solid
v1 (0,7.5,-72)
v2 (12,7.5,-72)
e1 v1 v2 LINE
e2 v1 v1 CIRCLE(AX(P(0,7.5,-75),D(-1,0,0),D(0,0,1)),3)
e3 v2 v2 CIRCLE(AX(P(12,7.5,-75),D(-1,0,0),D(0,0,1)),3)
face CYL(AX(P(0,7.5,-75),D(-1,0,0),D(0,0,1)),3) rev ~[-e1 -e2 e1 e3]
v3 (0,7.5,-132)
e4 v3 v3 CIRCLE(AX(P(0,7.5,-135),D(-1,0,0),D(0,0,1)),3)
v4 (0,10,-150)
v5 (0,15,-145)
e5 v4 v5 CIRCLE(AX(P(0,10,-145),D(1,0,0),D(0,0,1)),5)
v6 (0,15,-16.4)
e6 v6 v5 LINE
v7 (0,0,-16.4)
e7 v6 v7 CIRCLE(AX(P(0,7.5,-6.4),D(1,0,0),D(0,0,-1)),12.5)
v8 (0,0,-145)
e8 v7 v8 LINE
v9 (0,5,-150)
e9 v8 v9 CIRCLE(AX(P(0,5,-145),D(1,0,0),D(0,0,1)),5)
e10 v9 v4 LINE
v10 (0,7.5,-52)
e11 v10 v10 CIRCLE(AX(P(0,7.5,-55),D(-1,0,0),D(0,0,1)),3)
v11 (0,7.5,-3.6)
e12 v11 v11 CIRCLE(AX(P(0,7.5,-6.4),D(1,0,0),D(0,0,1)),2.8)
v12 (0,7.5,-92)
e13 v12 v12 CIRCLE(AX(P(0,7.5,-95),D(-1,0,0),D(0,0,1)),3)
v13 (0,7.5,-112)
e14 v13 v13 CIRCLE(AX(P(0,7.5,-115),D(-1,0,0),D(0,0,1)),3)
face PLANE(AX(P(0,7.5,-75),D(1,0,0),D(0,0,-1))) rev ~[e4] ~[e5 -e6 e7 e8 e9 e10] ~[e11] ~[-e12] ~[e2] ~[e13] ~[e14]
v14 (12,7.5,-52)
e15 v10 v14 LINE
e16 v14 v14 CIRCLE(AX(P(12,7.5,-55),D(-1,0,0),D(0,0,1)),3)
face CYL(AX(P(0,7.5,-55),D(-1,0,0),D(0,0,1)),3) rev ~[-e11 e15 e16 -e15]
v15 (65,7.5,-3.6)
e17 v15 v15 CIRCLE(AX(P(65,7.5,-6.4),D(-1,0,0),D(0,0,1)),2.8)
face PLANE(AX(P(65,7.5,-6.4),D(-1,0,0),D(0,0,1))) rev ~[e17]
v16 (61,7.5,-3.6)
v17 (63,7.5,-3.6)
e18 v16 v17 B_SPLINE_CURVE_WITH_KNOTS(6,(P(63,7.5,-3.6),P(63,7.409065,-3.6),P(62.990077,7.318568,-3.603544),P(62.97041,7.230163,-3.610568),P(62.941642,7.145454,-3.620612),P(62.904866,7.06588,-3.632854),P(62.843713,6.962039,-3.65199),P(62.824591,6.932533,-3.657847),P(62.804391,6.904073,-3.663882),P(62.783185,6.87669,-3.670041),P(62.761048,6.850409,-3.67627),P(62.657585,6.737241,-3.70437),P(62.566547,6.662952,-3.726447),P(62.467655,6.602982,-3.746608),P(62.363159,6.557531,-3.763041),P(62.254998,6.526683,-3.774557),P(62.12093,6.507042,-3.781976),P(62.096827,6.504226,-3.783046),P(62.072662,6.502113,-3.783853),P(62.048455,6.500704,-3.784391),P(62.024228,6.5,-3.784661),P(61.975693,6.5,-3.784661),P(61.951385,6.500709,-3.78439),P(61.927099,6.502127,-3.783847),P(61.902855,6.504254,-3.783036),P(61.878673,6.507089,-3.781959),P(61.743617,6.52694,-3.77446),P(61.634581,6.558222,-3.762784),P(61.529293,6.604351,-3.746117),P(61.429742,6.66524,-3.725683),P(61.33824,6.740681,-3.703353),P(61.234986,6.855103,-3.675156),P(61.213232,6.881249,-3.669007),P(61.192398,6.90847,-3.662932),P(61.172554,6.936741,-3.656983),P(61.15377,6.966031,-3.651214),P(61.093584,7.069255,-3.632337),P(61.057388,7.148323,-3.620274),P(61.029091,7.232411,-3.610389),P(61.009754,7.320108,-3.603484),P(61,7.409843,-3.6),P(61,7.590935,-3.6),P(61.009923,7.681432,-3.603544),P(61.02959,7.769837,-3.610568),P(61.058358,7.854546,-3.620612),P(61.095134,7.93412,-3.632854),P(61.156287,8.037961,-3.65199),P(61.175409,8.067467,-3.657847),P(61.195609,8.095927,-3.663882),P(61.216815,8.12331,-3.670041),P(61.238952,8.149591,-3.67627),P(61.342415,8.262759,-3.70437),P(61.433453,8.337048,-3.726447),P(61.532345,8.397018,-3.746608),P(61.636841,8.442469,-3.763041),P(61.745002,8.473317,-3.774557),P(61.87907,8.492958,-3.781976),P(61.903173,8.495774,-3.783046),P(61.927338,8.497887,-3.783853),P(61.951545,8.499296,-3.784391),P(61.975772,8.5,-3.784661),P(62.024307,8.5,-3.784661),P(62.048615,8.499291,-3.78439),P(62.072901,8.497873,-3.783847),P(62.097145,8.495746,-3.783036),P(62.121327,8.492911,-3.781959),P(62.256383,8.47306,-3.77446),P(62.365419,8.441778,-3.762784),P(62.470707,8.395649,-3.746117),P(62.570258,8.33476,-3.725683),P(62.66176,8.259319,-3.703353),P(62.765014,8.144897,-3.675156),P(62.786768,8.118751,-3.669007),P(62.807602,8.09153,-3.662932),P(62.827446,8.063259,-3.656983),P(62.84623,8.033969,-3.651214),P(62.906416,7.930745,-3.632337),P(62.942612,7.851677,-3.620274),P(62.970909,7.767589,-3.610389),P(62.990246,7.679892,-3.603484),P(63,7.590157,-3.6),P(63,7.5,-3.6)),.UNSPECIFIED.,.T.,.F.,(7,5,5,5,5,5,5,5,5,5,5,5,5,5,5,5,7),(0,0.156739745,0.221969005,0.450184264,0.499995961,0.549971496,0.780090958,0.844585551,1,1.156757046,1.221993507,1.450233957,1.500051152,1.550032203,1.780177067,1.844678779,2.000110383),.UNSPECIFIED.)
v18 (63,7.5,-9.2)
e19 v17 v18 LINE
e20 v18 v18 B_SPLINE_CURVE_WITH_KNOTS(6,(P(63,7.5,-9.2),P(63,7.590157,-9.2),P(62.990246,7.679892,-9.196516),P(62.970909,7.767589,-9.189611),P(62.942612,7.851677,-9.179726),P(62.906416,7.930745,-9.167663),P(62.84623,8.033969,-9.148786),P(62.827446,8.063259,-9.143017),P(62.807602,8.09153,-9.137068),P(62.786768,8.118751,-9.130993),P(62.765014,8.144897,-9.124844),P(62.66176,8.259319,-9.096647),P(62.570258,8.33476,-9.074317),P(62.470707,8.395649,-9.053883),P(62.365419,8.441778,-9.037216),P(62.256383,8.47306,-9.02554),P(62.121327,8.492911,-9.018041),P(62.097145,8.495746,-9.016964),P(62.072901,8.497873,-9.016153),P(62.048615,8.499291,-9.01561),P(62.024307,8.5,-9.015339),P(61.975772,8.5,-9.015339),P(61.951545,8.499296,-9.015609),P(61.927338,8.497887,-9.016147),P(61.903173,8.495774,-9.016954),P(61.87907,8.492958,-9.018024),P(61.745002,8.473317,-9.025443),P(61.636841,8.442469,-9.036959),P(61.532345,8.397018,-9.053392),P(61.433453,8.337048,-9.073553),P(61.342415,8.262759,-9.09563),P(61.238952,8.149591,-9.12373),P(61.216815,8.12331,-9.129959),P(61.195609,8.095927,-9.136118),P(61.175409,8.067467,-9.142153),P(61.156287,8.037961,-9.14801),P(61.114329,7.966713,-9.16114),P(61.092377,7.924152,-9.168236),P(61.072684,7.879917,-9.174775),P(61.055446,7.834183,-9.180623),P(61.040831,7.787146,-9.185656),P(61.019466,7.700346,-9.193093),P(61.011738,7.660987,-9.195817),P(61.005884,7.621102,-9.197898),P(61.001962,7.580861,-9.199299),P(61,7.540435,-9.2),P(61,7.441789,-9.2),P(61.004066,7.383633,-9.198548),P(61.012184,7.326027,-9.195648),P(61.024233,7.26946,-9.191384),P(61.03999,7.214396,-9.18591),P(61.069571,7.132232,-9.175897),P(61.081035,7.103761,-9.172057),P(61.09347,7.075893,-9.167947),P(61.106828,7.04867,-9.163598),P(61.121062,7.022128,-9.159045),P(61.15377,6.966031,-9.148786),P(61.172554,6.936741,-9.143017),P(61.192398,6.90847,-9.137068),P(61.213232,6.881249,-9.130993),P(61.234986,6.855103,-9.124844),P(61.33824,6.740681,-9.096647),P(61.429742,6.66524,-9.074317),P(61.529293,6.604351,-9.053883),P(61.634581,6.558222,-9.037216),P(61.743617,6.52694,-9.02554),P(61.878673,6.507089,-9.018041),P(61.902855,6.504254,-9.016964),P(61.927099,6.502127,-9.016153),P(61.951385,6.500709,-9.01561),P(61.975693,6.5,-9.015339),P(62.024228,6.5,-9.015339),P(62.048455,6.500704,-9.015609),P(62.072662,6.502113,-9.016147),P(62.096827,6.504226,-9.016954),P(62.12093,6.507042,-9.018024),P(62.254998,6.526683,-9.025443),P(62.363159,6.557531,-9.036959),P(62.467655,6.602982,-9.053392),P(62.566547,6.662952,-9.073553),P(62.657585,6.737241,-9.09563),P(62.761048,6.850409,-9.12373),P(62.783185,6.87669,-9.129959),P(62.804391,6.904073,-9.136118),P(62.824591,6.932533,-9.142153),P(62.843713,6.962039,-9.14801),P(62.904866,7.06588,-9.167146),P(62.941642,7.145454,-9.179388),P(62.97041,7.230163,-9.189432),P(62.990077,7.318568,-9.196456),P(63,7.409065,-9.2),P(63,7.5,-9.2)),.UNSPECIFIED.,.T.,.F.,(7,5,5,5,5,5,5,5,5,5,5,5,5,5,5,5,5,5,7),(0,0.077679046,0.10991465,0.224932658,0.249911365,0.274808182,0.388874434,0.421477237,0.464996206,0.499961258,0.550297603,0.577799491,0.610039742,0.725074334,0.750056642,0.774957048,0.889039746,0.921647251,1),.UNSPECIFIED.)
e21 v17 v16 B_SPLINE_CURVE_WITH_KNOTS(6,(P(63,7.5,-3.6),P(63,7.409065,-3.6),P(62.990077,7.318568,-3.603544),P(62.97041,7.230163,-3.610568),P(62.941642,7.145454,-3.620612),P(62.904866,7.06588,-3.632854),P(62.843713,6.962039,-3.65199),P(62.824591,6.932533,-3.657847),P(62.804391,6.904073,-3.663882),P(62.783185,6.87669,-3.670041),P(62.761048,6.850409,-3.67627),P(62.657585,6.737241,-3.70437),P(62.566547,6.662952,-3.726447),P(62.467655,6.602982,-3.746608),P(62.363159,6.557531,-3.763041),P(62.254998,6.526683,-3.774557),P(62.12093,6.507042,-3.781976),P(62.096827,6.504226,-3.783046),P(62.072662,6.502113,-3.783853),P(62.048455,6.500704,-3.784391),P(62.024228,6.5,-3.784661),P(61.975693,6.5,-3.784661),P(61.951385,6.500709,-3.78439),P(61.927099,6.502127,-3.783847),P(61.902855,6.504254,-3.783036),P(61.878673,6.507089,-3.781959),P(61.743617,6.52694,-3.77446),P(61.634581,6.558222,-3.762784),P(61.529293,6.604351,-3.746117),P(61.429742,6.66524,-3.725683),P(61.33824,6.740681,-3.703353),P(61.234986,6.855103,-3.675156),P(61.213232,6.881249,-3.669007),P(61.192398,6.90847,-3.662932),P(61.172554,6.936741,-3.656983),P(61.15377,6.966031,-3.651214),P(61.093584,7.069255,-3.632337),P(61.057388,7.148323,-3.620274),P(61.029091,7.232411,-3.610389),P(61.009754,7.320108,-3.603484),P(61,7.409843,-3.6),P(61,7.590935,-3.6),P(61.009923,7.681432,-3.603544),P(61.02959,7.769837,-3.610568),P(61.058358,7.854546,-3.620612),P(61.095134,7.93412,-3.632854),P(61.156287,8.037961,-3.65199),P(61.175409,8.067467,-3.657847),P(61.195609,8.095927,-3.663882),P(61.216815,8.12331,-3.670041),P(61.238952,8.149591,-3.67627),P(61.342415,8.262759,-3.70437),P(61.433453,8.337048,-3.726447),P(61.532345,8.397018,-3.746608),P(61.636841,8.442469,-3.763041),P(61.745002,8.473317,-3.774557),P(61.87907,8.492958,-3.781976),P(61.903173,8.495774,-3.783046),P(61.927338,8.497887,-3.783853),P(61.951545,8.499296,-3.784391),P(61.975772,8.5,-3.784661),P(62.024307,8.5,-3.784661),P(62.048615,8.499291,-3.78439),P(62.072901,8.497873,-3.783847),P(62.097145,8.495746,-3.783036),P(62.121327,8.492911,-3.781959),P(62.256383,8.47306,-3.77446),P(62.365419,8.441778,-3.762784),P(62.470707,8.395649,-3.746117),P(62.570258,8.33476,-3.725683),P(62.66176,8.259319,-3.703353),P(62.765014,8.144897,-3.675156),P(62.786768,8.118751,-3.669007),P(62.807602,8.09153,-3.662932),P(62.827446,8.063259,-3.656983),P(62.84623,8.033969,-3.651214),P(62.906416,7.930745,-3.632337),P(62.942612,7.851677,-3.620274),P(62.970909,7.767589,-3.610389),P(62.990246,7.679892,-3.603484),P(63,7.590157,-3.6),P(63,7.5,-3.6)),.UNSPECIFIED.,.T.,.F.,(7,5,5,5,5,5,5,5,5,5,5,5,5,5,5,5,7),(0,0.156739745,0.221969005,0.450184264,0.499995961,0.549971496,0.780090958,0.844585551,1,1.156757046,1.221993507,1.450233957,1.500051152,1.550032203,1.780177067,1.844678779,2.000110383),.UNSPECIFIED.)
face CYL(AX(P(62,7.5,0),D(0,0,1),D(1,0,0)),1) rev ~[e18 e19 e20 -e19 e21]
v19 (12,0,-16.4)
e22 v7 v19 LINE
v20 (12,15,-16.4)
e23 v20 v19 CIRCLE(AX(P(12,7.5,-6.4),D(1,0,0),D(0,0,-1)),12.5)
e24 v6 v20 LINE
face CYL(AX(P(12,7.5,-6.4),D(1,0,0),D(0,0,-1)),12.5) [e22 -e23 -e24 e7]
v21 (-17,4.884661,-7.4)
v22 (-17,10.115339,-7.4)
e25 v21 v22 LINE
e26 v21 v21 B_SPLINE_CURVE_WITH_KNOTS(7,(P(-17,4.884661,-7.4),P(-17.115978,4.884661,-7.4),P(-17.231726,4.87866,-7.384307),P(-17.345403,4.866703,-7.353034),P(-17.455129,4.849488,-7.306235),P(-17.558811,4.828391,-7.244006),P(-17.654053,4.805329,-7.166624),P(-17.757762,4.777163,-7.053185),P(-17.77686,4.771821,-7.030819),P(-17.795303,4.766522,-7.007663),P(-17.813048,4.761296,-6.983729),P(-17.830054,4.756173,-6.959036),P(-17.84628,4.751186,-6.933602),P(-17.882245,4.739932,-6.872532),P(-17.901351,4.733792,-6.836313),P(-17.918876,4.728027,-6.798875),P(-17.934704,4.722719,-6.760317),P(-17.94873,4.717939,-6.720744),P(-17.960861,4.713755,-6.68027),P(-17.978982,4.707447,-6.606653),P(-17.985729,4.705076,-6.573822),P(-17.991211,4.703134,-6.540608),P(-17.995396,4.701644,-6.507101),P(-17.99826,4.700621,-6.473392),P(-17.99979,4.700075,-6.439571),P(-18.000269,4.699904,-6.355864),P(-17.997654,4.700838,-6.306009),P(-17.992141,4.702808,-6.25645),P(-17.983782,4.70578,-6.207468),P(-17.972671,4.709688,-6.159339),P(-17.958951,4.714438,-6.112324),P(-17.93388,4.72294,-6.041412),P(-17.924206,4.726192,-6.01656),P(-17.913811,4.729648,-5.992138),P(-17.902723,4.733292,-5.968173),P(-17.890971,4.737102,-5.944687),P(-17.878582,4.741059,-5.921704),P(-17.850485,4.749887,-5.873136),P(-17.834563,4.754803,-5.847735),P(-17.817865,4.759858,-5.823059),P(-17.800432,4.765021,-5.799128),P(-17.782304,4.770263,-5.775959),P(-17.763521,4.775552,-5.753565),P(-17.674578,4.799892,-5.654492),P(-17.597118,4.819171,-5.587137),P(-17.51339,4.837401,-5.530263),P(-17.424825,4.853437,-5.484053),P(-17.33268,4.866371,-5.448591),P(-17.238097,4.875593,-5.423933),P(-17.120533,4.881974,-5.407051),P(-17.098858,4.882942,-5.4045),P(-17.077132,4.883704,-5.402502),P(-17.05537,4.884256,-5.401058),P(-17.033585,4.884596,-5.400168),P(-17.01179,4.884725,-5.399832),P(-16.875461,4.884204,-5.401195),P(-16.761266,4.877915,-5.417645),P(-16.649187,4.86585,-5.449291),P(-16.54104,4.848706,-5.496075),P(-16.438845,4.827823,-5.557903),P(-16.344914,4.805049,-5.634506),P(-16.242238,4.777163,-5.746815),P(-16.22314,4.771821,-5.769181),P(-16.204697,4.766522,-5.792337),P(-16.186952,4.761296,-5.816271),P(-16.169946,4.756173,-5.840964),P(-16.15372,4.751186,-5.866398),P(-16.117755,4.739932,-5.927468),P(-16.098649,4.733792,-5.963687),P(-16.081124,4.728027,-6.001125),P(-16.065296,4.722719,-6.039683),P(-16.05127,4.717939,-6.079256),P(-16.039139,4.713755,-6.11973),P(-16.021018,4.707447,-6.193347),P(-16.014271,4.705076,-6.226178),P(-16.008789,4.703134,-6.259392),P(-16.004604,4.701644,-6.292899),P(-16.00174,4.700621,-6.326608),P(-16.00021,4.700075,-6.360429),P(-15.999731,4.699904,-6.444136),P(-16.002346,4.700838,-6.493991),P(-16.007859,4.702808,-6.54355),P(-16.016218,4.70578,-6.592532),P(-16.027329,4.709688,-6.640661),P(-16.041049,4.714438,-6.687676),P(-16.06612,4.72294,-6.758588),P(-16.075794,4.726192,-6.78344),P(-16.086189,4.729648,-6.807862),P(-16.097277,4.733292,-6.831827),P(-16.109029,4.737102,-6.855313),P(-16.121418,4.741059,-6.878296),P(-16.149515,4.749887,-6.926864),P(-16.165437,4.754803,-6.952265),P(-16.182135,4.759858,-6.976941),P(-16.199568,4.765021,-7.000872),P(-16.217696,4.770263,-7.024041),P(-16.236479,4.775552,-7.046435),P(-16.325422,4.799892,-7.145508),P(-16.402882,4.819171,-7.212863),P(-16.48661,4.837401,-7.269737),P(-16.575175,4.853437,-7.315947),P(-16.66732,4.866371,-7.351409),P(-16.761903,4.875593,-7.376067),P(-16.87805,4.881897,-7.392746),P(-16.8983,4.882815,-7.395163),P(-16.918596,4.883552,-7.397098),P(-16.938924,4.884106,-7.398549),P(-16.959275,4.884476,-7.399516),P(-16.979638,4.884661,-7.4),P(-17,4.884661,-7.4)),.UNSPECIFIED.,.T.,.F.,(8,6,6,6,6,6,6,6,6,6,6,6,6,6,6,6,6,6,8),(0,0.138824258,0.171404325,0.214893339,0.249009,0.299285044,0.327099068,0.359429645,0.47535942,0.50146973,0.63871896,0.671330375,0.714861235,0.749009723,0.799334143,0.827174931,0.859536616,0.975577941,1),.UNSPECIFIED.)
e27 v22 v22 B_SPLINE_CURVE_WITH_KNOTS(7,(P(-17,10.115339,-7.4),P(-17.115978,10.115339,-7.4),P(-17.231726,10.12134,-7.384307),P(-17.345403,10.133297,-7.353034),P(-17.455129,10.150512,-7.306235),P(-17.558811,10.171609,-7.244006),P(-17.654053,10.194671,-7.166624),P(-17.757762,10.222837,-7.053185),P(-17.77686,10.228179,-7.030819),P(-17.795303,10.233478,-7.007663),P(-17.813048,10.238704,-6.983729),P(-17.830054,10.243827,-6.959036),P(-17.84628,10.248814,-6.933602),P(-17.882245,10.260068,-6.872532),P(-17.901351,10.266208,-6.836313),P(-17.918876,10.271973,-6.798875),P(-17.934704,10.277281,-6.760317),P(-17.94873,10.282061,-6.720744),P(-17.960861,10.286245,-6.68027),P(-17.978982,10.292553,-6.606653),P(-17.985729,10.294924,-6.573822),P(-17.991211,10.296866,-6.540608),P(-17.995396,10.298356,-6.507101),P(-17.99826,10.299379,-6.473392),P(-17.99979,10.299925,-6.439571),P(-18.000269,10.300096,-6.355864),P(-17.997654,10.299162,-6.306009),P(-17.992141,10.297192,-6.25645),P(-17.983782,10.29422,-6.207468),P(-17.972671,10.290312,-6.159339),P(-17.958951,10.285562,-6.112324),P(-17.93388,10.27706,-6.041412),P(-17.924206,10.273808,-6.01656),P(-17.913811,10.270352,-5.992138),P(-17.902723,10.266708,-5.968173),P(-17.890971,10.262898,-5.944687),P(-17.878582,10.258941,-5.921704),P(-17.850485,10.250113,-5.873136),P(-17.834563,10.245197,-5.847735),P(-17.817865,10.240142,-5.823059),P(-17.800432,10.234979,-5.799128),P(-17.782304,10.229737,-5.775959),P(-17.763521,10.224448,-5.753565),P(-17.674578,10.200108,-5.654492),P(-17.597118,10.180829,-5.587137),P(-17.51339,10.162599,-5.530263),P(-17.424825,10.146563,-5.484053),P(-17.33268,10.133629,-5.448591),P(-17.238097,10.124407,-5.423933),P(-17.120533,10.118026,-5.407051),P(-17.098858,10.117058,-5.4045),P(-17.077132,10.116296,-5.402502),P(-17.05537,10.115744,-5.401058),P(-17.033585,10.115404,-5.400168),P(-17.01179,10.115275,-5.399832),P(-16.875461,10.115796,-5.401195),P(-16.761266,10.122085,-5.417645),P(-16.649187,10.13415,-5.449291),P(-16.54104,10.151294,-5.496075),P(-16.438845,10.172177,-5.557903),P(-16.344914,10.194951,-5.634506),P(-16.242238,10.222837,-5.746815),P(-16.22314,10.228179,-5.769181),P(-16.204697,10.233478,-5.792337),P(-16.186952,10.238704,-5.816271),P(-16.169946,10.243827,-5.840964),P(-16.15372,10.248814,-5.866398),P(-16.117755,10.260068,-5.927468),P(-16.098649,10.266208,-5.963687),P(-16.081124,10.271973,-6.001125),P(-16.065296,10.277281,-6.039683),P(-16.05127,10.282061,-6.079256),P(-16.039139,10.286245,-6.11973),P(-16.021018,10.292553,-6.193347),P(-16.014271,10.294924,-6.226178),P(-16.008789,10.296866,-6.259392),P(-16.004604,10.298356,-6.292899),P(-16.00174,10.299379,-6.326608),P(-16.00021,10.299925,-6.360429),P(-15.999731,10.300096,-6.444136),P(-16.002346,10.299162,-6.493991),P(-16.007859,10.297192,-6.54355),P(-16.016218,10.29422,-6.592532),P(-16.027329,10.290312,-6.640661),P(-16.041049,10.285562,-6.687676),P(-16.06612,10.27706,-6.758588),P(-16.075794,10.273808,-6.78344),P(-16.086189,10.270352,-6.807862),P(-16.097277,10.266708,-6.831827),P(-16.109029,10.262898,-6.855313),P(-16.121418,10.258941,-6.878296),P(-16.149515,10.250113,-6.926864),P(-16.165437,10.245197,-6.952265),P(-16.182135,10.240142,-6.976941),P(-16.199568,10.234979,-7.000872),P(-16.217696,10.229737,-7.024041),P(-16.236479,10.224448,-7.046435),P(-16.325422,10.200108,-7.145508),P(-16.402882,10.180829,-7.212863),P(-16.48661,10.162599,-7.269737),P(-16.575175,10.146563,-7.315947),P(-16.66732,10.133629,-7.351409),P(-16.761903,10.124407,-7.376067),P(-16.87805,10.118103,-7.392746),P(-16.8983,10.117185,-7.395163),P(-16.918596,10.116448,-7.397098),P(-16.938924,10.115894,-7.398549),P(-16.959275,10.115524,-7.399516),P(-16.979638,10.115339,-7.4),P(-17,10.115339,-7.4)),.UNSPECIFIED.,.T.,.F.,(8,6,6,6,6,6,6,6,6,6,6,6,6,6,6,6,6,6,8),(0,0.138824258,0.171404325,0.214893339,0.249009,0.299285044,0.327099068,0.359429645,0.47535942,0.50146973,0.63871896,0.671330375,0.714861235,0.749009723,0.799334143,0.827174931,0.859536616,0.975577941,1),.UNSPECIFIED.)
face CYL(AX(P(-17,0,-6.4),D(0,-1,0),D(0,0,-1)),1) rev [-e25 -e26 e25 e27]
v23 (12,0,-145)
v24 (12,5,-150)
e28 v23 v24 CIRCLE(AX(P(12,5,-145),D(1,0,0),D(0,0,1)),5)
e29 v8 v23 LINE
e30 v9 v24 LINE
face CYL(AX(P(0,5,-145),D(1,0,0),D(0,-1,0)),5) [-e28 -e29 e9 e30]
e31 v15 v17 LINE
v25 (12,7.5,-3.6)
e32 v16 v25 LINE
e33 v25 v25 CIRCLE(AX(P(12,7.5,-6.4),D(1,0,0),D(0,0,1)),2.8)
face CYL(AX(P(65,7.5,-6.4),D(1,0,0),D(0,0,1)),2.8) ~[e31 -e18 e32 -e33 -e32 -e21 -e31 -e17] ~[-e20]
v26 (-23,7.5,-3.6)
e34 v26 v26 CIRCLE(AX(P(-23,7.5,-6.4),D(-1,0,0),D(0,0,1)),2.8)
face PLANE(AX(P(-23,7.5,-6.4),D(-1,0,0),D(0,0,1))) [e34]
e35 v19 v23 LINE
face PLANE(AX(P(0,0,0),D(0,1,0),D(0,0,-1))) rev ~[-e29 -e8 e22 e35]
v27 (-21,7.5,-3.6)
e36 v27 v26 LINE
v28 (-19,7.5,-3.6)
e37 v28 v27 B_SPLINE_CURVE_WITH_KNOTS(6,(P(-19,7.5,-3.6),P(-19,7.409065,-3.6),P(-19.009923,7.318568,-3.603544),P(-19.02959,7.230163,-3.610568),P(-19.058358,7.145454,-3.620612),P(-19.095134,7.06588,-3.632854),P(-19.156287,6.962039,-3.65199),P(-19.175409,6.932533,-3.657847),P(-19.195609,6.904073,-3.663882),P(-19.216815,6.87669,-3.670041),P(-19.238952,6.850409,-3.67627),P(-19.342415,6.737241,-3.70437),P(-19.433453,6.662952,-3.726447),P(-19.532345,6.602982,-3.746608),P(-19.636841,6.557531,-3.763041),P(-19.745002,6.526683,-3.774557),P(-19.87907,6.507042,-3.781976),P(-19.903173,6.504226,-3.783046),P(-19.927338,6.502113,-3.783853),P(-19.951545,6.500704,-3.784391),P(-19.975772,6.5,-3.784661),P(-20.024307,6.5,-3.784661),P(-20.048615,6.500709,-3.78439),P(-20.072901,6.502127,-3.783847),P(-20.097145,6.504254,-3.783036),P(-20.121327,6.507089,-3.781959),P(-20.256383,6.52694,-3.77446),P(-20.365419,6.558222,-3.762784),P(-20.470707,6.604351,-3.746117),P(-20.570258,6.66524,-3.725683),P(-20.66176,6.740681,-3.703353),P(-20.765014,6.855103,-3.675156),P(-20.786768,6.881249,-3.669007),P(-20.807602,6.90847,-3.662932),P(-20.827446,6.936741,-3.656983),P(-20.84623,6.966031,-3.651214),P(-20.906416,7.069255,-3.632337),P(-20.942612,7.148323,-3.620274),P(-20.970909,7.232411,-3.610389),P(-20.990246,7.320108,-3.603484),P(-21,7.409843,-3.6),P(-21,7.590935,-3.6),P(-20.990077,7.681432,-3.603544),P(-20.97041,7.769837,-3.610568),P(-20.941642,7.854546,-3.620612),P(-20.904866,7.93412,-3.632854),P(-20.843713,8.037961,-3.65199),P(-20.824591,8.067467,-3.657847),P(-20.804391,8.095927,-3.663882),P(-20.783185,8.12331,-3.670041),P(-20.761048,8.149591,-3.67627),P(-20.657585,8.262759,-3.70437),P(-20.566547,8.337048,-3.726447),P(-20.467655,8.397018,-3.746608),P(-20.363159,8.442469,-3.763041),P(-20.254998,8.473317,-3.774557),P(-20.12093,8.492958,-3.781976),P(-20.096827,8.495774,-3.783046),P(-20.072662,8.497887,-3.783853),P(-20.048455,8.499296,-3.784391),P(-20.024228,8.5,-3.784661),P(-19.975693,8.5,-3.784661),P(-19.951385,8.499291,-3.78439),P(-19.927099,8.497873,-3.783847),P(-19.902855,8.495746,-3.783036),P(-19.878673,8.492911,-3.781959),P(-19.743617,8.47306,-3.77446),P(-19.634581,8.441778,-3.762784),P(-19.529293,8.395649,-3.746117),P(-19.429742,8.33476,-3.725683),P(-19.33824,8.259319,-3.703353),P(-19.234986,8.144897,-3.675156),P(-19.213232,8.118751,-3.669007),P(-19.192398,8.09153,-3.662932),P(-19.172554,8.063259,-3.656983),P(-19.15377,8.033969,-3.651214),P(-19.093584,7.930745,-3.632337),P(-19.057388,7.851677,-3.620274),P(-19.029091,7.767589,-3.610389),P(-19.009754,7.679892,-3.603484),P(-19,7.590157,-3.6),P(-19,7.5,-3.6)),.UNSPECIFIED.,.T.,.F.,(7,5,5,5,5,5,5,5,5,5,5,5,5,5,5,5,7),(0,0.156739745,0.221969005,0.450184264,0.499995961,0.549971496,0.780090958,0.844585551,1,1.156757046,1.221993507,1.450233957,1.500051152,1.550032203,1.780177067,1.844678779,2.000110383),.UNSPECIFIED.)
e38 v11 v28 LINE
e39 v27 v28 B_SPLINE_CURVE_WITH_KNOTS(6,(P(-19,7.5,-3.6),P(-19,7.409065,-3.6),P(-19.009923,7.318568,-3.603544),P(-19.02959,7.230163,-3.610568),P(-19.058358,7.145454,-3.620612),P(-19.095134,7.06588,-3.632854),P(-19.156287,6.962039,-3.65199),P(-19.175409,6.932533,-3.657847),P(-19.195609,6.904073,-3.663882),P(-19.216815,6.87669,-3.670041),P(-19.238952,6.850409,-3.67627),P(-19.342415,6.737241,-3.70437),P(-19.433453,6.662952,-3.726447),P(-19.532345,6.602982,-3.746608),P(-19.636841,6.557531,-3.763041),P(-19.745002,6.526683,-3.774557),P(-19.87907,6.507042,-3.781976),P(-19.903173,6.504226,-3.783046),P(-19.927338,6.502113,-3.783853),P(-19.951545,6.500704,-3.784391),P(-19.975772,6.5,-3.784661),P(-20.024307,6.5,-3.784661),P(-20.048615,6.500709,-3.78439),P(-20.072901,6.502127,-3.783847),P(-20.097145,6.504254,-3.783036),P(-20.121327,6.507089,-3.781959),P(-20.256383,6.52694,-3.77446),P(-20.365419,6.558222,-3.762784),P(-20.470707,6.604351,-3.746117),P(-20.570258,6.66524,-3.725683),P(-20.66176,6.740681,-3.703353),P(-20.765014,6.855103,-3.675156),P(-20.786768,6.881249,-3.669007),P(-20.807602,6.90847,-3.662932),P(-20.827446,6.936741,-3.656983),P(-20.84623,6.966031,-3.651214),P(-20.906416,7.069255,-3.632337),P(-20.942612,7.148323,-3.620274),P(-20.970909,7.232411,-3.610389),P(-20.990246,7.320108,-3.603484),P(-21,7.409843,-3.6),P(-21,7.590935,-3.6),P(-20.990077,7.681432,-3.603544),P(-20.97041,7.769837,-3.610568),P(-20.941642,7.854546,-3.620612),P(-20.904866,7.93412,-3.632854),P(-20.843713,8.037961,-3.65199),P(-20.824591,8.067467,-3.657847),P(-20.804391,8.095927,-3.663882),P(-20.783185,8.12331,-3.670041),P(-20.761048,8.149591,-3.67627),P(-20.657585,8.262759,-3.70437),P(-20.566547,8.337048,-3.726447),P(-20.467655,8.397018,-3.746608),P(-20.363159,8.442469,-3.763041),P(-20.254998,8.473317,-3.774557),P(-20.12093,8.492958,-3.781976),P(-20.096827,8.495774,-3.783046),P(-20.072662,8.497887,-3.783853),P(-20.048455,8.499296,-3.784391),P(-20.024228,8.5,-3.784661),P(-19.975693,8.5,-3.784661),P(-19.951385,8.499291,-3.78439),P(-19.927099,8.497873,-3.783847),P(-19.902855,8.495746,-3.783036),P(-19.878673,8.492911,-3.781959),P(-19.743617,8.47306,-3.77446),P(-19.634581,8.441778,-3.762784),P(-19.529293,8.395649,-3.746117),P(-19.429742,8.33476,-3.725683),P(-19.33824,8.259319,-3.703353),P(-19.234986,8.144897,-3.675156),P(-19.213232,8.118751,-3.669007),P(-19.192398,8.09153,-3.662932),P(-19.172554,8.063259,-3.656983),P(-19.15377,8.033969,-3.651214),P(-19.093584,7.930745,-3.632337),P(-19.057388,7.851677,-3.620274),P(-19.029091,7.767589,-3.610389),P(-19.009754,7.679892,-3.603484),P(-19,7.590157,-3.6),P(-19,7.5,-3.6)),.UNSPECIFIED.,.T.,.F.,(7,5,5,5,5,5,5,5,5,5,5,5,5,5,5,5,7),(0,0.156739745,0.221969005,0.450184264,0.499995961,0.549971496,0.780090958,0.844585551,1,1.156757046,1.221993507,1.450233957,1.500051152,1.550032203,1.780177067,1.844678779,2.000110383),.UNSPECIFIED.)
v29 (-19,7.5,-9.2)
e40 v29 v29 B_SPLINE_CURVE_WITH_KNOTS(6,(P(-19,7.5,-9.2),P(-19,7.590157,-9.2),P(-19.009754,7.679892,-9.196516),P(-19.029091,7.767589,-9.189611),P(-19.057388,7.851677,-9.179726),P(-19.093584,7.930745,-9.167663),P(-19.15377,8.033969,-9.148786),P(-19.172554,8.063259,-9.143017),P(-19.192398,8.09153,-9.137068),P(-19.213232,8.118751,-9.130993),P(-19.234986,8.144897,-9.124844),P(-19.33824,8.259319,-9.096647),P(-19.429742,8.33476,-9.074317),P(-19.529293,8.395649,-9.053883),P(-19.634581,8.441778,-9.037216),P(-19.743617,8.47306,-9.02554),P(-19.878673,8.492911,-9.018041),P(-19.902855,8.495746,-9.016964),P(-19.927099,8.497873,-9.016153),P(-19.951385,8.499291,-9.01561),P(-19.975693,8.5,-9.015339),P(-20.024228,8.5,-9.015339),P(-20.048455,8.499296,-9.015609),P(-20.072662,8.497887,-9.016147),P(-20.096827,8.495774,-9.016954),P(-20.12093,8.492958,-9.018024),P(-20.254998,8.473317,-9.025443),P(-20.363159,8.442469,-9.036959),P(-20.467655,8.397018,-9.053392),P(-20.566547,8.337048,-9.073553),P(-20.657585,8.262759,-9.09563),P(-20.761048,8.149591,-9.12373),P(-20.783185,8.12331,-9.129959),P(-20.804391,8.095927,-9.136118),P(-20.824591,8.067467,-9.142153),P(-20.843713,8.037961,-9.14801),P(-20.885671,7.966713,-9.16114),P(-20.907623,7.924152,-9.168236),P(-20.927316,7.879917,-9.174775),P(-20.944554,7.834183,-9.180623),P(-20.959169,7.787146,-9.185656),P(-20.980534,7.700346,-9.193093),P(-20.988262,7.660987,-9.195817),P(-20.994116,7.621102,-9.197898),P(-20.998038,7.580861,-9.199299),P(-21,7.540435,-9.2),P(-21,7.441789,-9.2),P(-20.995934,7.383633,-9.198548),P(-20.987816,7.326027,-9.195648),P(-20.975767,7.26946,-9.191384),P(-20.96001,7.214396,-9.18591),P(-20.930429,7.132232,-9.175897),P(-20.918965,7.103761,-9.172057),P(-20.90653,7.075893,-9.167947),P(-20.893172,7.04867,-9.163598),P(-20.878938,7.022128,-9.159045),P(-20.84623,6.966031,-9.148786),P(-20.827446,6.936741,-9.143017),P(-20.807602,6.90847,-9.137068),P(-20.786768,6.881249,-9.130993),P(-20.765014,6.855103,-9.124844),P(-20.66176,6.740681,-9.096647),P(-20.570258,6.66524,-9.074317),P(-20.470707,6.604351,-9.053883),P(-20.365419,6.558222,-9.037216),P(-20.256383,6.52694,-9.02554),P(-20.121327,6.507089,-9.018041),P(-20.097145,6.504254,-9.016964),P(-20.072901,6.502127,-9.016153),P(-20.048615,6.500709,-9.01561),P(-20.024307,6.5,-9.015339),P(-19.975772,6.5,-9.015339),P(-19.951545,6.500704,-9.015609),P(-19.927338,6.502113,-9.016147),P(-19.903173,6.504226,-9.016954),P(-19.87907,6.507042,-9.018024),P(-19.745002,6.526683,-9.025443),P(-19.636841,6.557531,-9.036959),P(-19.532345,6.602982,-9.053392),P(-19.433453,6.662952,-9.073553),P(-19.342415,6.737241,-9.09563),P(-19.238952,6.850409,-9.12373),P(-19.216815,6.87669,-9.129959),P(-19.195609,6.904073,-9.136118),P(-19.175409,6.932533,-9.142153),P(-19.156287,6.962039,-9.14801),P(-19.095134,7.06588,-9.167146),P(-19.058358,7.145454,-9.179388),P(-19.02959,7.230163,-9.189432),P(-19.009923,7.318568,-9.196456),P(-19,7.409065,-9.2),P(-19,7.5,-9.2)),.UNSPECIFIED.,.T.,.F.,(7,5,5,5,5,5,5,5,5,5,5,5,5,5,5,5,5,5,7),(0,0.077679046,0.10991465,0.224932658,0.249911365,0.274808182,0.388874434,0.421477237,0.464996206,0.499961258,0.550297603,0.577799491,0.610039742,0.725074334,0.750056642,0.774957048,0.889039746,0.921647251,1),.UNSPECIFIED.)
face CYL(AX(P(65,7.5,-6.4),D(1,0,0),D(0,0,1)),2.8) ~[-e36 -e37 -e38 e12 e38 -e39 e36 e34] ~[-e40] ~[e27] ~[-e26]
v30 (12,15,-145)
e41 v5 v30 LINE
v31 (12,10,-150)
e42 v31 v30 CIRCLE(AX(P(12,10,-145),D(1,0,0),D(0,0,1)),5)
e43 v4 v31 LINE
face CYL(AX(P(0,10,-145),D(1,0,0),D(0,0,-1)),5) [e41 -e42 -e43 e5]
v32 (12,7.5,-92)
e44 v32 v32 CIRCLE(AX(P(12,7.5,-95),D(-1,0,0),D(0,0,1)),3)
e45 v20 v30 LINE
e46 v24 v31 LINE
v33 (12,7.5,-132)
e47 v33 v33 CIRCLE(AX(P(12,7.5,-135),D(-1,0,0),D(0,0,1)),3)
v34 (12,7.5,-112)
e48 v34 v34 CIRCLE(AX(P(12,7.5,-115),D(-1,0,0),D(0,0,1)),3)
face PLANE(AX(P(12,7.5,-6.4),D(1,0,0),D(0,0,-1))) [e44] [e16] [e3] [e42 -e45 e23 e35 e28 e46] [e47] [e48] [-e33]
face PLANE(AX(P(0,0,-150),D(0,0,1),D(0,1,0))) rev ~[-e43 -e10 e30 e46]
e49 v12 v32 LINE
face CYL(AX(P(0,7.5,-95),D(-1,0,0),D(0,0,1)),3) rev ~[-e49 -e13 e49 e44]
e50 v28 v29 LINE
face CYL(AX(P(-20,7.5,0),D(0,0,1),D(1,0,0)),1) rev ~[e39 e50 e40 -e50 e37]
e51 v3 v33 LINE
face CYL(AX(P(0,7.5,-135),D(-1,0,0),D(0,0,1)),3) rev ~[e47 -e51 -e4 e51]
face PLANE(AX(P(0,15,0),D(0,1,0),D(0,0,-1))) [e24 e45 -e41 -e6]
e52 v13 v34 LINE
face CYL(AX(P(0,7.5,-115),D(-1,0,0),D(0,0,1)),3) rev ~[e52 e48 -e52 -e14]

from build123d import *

# Parameters (mm, degrees)
SKETCH_1_W           = 150
SKETCH_1_H           = 15
EXTRUDE_1_DEPTH      = 12
FILLET_1_R           = 5
SKETCH_6_R           = 12.5
EXTRUDE_2_DEPTH      = 12
EXTRUDE_5_DEPTH      = 23
EXTRUDE_5_DEPTH_BACK = 65
SKETCH_15_R          = 2.8
CUT_EXTRUDE_9_REACH  = 166.697
SKETCH_16_R          = 1
CUT_EXTRUDE_10_REACH = 166.697
SKETCH_17_R          = 3
SKETCH_18_R          = 1
CUT_EXTRUDE_11_DEPTH = 15


with BuildPart() as part:
    # 草图1 → 凸台-拉伸1 (new body)
    with BuildSketch(Plane(origin=(0, 0, 0), x_dir=(0, 0, -1), z_dir=(1, 0, 0))):
        with Locations((75, 7.5)):
            Rectangle(SKETCH_1_W, SKETCH_1_H)
    extrude(amount=EXTRUDE_1_DEPTH)

    # 圆角1
    fillet_1_edges = [part.edges().sort_by_distance(p)[0] for p in [
        (6, 15, 0),
        (6, 15, -150),
        (6, 0, -150),
        (6, 0, 0),
    ]]
    fillet(fillet_1_edges, radius=FILLET_1_R)

    # 草图6 → 凸台-拉伸2 (add)
    with BuildSketch(Plane(origin=(12, 0, 0), x_dir=(0, 0, -1), z_dir=(1, 0, 0))):
        with Locations((6.4, 7.5)):
            Circle(SKETCH_6_R)
    extrude(amount=-EXTRUDE_2_DEPTH)

    # 草图15 → 凸台-拉伸5 (add, two sides: drawn at the far end of the back side and taken through both)
    with BuildSketch(Plane.ZY.offset(-EXTRUDE_5_DEPTH_BACK)):
        with Locations((-6.4, 7.5)):
            Circle(SKETCH_15_R)
    extrude(amount=EXTRUDE_5_DEPTH + EXTRUDE_5_DEPTH_BACK)

    # 草图16 → 切除-拉伸9 (cut, up to next)
    with BuildSketch(Plane.XY, mode=Mode.PRIVATE) as cut_extrude_9_sk1:
        with Locations((-20, 7.5)):
            Circle(SKETCH_16_R)
    cut_extrude_9_tool1 = extrude(cut_extrude_9_sk1.sketch, amount=-CUT_EXTRUDE_9_REACH, mode=Mode.PRIVATE) & part.part
    # 草图16 → 切除-拉伸9 (cut, up to next)
    with BuildSketch(Plane.XY, mode=Mode.PRIVATE) as cut_extrude_9_sk2:
        with Locations((62, 7.5)):
            Circle(SKETCH_16_R)
    cut_extrude_9_tool2 = extrude(cut_extrude_9_sk2.sketch, amount=-CUT_EXTRUDE_9_REACH, mode=Mode.PRIVATE) & part.part
    add(cut_extrude_9_tool1.solids().sort_by_distance((-20, 7.5, 0))[0], mode=Mode.SUBTRACT)
    add(cut_extrude_9_tool2.solids().sort_by_distance((62, 7.5, 0))[0], mode=Mode.SUBTRACT)

    # 草图17 → 切除-拉伸10 (cut, up to next)
    with BuildSketch(Plane.ZY, mode=Mode.PRIVATE) as cut_extrude_10_sk1:
        with Locations((-135, 7.5)):
            Circle(SKETCH_17_R)
    cut_extrude_10_tool1 = extrude(cut_extrude_10_sk1.sketch, amount=-CUT_EXTRUDE_10_REACH, mode=Mode.PRIVATE) & part.part
    # 草图17 → 切除-拉伸10 (cut, up to next)
    with BuildSketch(Plane.ZY, mode=Mode.PRIVATE) as cut_extrude_10_sk2:
        with Locations((-115, 7.5)):
            Circle(SKETCH_17_R)
    cut_extrude_10_tool2 = extrude(cut_extrude_10_sk2.sketch, amount=-CUT_EXTRUDE_10_REACH, mode=Mode.PRIVATE) & part.part
    # 草图17 → 切除-拉伸10 (cut, up to next)
    with BuildSketch(Plane.ZY, mode=Mode.PRIVATE) as cut_extrude_10_sk3:
        with Locations((-95, 7.5)):
            Circle(SKETCH_17_R)
    cut_extrude_10_tool3 = extrude(cut_extrude_10_sk3.sketch, amount=-CUT_EXTRUDE_10_REACH, mode=Mode.PRIVATE) & part.part
    # 草图17 → 切除-拉伸10 (cut, up to next)
    with BuildSketch(Plane.ZY, mode=Mode.PRIVATE) as cut_extrude_10_sk4:
        with Locations((-75, 7.5)):
            Circle(SKETCH_17_R)
    cut_extrude_10_tool4 = extrude(cut_extrude_10_sk4.sketch, amount=-CUT_EXTRUDE_10_REACH, mode=Mode.PRIVATE) & part.part
    # 草图17 → 切除-拉伸10 (cut, up to next)
    with BuildSketch(Plane.ZY, mode=Mode.PRIVATE) as cut_extrude_10_sk5:
        with Locations((-55, 7.5)):
            Circle(SKETCH_17_R)
    cut_extrude_10_tool5 = extrude(cut_extrude_10_sk5.sketch, amount=-CUT_EXTRUDE_10_REACH, mode=Mode.PRIVATE) & part.part
    add(cut_extrude_10_tool1.solids().sort_by_distance((0, 7.5, -135))[0], mode=Mode.SUBTRACT)
    add(cut_extrude_10_tool2.solids().sort_by_distance((0, 7.5, -115))[0], mode=Mode.SUBTRACT)
    add(cut_extrude_10_tool3.solids().sort_by_distance((0, 7.5, -95))[0], mode=Mode.SUBTRACT)
    add(cut_extrude_10_tool4.solids().sort_by_distance((0, 7.5, -75))[0], mode=Mode.SUBTRACT)
    add(cut_extrude_10_tool5.solids().sort_by_distance((0, 7.5, -55))[0], mode=Mode.SUBTRACT)

    # 草图18 → 切除-拉伸11 (cut)
    with BuildSketch(Plane(origin=(0, 0, 0), x_dir=(1, 0, 0), z_dir=(0, 1, 0))):
        with Locations(Location((-17, 6.4, 0), (0, 0, 90))):
            Circle(SKETCH_18_R)
    extrude(amount=CUT_EXTRUDE_11_DEPTH, mode=Mode.SUBTRACT)


solid = part.part
